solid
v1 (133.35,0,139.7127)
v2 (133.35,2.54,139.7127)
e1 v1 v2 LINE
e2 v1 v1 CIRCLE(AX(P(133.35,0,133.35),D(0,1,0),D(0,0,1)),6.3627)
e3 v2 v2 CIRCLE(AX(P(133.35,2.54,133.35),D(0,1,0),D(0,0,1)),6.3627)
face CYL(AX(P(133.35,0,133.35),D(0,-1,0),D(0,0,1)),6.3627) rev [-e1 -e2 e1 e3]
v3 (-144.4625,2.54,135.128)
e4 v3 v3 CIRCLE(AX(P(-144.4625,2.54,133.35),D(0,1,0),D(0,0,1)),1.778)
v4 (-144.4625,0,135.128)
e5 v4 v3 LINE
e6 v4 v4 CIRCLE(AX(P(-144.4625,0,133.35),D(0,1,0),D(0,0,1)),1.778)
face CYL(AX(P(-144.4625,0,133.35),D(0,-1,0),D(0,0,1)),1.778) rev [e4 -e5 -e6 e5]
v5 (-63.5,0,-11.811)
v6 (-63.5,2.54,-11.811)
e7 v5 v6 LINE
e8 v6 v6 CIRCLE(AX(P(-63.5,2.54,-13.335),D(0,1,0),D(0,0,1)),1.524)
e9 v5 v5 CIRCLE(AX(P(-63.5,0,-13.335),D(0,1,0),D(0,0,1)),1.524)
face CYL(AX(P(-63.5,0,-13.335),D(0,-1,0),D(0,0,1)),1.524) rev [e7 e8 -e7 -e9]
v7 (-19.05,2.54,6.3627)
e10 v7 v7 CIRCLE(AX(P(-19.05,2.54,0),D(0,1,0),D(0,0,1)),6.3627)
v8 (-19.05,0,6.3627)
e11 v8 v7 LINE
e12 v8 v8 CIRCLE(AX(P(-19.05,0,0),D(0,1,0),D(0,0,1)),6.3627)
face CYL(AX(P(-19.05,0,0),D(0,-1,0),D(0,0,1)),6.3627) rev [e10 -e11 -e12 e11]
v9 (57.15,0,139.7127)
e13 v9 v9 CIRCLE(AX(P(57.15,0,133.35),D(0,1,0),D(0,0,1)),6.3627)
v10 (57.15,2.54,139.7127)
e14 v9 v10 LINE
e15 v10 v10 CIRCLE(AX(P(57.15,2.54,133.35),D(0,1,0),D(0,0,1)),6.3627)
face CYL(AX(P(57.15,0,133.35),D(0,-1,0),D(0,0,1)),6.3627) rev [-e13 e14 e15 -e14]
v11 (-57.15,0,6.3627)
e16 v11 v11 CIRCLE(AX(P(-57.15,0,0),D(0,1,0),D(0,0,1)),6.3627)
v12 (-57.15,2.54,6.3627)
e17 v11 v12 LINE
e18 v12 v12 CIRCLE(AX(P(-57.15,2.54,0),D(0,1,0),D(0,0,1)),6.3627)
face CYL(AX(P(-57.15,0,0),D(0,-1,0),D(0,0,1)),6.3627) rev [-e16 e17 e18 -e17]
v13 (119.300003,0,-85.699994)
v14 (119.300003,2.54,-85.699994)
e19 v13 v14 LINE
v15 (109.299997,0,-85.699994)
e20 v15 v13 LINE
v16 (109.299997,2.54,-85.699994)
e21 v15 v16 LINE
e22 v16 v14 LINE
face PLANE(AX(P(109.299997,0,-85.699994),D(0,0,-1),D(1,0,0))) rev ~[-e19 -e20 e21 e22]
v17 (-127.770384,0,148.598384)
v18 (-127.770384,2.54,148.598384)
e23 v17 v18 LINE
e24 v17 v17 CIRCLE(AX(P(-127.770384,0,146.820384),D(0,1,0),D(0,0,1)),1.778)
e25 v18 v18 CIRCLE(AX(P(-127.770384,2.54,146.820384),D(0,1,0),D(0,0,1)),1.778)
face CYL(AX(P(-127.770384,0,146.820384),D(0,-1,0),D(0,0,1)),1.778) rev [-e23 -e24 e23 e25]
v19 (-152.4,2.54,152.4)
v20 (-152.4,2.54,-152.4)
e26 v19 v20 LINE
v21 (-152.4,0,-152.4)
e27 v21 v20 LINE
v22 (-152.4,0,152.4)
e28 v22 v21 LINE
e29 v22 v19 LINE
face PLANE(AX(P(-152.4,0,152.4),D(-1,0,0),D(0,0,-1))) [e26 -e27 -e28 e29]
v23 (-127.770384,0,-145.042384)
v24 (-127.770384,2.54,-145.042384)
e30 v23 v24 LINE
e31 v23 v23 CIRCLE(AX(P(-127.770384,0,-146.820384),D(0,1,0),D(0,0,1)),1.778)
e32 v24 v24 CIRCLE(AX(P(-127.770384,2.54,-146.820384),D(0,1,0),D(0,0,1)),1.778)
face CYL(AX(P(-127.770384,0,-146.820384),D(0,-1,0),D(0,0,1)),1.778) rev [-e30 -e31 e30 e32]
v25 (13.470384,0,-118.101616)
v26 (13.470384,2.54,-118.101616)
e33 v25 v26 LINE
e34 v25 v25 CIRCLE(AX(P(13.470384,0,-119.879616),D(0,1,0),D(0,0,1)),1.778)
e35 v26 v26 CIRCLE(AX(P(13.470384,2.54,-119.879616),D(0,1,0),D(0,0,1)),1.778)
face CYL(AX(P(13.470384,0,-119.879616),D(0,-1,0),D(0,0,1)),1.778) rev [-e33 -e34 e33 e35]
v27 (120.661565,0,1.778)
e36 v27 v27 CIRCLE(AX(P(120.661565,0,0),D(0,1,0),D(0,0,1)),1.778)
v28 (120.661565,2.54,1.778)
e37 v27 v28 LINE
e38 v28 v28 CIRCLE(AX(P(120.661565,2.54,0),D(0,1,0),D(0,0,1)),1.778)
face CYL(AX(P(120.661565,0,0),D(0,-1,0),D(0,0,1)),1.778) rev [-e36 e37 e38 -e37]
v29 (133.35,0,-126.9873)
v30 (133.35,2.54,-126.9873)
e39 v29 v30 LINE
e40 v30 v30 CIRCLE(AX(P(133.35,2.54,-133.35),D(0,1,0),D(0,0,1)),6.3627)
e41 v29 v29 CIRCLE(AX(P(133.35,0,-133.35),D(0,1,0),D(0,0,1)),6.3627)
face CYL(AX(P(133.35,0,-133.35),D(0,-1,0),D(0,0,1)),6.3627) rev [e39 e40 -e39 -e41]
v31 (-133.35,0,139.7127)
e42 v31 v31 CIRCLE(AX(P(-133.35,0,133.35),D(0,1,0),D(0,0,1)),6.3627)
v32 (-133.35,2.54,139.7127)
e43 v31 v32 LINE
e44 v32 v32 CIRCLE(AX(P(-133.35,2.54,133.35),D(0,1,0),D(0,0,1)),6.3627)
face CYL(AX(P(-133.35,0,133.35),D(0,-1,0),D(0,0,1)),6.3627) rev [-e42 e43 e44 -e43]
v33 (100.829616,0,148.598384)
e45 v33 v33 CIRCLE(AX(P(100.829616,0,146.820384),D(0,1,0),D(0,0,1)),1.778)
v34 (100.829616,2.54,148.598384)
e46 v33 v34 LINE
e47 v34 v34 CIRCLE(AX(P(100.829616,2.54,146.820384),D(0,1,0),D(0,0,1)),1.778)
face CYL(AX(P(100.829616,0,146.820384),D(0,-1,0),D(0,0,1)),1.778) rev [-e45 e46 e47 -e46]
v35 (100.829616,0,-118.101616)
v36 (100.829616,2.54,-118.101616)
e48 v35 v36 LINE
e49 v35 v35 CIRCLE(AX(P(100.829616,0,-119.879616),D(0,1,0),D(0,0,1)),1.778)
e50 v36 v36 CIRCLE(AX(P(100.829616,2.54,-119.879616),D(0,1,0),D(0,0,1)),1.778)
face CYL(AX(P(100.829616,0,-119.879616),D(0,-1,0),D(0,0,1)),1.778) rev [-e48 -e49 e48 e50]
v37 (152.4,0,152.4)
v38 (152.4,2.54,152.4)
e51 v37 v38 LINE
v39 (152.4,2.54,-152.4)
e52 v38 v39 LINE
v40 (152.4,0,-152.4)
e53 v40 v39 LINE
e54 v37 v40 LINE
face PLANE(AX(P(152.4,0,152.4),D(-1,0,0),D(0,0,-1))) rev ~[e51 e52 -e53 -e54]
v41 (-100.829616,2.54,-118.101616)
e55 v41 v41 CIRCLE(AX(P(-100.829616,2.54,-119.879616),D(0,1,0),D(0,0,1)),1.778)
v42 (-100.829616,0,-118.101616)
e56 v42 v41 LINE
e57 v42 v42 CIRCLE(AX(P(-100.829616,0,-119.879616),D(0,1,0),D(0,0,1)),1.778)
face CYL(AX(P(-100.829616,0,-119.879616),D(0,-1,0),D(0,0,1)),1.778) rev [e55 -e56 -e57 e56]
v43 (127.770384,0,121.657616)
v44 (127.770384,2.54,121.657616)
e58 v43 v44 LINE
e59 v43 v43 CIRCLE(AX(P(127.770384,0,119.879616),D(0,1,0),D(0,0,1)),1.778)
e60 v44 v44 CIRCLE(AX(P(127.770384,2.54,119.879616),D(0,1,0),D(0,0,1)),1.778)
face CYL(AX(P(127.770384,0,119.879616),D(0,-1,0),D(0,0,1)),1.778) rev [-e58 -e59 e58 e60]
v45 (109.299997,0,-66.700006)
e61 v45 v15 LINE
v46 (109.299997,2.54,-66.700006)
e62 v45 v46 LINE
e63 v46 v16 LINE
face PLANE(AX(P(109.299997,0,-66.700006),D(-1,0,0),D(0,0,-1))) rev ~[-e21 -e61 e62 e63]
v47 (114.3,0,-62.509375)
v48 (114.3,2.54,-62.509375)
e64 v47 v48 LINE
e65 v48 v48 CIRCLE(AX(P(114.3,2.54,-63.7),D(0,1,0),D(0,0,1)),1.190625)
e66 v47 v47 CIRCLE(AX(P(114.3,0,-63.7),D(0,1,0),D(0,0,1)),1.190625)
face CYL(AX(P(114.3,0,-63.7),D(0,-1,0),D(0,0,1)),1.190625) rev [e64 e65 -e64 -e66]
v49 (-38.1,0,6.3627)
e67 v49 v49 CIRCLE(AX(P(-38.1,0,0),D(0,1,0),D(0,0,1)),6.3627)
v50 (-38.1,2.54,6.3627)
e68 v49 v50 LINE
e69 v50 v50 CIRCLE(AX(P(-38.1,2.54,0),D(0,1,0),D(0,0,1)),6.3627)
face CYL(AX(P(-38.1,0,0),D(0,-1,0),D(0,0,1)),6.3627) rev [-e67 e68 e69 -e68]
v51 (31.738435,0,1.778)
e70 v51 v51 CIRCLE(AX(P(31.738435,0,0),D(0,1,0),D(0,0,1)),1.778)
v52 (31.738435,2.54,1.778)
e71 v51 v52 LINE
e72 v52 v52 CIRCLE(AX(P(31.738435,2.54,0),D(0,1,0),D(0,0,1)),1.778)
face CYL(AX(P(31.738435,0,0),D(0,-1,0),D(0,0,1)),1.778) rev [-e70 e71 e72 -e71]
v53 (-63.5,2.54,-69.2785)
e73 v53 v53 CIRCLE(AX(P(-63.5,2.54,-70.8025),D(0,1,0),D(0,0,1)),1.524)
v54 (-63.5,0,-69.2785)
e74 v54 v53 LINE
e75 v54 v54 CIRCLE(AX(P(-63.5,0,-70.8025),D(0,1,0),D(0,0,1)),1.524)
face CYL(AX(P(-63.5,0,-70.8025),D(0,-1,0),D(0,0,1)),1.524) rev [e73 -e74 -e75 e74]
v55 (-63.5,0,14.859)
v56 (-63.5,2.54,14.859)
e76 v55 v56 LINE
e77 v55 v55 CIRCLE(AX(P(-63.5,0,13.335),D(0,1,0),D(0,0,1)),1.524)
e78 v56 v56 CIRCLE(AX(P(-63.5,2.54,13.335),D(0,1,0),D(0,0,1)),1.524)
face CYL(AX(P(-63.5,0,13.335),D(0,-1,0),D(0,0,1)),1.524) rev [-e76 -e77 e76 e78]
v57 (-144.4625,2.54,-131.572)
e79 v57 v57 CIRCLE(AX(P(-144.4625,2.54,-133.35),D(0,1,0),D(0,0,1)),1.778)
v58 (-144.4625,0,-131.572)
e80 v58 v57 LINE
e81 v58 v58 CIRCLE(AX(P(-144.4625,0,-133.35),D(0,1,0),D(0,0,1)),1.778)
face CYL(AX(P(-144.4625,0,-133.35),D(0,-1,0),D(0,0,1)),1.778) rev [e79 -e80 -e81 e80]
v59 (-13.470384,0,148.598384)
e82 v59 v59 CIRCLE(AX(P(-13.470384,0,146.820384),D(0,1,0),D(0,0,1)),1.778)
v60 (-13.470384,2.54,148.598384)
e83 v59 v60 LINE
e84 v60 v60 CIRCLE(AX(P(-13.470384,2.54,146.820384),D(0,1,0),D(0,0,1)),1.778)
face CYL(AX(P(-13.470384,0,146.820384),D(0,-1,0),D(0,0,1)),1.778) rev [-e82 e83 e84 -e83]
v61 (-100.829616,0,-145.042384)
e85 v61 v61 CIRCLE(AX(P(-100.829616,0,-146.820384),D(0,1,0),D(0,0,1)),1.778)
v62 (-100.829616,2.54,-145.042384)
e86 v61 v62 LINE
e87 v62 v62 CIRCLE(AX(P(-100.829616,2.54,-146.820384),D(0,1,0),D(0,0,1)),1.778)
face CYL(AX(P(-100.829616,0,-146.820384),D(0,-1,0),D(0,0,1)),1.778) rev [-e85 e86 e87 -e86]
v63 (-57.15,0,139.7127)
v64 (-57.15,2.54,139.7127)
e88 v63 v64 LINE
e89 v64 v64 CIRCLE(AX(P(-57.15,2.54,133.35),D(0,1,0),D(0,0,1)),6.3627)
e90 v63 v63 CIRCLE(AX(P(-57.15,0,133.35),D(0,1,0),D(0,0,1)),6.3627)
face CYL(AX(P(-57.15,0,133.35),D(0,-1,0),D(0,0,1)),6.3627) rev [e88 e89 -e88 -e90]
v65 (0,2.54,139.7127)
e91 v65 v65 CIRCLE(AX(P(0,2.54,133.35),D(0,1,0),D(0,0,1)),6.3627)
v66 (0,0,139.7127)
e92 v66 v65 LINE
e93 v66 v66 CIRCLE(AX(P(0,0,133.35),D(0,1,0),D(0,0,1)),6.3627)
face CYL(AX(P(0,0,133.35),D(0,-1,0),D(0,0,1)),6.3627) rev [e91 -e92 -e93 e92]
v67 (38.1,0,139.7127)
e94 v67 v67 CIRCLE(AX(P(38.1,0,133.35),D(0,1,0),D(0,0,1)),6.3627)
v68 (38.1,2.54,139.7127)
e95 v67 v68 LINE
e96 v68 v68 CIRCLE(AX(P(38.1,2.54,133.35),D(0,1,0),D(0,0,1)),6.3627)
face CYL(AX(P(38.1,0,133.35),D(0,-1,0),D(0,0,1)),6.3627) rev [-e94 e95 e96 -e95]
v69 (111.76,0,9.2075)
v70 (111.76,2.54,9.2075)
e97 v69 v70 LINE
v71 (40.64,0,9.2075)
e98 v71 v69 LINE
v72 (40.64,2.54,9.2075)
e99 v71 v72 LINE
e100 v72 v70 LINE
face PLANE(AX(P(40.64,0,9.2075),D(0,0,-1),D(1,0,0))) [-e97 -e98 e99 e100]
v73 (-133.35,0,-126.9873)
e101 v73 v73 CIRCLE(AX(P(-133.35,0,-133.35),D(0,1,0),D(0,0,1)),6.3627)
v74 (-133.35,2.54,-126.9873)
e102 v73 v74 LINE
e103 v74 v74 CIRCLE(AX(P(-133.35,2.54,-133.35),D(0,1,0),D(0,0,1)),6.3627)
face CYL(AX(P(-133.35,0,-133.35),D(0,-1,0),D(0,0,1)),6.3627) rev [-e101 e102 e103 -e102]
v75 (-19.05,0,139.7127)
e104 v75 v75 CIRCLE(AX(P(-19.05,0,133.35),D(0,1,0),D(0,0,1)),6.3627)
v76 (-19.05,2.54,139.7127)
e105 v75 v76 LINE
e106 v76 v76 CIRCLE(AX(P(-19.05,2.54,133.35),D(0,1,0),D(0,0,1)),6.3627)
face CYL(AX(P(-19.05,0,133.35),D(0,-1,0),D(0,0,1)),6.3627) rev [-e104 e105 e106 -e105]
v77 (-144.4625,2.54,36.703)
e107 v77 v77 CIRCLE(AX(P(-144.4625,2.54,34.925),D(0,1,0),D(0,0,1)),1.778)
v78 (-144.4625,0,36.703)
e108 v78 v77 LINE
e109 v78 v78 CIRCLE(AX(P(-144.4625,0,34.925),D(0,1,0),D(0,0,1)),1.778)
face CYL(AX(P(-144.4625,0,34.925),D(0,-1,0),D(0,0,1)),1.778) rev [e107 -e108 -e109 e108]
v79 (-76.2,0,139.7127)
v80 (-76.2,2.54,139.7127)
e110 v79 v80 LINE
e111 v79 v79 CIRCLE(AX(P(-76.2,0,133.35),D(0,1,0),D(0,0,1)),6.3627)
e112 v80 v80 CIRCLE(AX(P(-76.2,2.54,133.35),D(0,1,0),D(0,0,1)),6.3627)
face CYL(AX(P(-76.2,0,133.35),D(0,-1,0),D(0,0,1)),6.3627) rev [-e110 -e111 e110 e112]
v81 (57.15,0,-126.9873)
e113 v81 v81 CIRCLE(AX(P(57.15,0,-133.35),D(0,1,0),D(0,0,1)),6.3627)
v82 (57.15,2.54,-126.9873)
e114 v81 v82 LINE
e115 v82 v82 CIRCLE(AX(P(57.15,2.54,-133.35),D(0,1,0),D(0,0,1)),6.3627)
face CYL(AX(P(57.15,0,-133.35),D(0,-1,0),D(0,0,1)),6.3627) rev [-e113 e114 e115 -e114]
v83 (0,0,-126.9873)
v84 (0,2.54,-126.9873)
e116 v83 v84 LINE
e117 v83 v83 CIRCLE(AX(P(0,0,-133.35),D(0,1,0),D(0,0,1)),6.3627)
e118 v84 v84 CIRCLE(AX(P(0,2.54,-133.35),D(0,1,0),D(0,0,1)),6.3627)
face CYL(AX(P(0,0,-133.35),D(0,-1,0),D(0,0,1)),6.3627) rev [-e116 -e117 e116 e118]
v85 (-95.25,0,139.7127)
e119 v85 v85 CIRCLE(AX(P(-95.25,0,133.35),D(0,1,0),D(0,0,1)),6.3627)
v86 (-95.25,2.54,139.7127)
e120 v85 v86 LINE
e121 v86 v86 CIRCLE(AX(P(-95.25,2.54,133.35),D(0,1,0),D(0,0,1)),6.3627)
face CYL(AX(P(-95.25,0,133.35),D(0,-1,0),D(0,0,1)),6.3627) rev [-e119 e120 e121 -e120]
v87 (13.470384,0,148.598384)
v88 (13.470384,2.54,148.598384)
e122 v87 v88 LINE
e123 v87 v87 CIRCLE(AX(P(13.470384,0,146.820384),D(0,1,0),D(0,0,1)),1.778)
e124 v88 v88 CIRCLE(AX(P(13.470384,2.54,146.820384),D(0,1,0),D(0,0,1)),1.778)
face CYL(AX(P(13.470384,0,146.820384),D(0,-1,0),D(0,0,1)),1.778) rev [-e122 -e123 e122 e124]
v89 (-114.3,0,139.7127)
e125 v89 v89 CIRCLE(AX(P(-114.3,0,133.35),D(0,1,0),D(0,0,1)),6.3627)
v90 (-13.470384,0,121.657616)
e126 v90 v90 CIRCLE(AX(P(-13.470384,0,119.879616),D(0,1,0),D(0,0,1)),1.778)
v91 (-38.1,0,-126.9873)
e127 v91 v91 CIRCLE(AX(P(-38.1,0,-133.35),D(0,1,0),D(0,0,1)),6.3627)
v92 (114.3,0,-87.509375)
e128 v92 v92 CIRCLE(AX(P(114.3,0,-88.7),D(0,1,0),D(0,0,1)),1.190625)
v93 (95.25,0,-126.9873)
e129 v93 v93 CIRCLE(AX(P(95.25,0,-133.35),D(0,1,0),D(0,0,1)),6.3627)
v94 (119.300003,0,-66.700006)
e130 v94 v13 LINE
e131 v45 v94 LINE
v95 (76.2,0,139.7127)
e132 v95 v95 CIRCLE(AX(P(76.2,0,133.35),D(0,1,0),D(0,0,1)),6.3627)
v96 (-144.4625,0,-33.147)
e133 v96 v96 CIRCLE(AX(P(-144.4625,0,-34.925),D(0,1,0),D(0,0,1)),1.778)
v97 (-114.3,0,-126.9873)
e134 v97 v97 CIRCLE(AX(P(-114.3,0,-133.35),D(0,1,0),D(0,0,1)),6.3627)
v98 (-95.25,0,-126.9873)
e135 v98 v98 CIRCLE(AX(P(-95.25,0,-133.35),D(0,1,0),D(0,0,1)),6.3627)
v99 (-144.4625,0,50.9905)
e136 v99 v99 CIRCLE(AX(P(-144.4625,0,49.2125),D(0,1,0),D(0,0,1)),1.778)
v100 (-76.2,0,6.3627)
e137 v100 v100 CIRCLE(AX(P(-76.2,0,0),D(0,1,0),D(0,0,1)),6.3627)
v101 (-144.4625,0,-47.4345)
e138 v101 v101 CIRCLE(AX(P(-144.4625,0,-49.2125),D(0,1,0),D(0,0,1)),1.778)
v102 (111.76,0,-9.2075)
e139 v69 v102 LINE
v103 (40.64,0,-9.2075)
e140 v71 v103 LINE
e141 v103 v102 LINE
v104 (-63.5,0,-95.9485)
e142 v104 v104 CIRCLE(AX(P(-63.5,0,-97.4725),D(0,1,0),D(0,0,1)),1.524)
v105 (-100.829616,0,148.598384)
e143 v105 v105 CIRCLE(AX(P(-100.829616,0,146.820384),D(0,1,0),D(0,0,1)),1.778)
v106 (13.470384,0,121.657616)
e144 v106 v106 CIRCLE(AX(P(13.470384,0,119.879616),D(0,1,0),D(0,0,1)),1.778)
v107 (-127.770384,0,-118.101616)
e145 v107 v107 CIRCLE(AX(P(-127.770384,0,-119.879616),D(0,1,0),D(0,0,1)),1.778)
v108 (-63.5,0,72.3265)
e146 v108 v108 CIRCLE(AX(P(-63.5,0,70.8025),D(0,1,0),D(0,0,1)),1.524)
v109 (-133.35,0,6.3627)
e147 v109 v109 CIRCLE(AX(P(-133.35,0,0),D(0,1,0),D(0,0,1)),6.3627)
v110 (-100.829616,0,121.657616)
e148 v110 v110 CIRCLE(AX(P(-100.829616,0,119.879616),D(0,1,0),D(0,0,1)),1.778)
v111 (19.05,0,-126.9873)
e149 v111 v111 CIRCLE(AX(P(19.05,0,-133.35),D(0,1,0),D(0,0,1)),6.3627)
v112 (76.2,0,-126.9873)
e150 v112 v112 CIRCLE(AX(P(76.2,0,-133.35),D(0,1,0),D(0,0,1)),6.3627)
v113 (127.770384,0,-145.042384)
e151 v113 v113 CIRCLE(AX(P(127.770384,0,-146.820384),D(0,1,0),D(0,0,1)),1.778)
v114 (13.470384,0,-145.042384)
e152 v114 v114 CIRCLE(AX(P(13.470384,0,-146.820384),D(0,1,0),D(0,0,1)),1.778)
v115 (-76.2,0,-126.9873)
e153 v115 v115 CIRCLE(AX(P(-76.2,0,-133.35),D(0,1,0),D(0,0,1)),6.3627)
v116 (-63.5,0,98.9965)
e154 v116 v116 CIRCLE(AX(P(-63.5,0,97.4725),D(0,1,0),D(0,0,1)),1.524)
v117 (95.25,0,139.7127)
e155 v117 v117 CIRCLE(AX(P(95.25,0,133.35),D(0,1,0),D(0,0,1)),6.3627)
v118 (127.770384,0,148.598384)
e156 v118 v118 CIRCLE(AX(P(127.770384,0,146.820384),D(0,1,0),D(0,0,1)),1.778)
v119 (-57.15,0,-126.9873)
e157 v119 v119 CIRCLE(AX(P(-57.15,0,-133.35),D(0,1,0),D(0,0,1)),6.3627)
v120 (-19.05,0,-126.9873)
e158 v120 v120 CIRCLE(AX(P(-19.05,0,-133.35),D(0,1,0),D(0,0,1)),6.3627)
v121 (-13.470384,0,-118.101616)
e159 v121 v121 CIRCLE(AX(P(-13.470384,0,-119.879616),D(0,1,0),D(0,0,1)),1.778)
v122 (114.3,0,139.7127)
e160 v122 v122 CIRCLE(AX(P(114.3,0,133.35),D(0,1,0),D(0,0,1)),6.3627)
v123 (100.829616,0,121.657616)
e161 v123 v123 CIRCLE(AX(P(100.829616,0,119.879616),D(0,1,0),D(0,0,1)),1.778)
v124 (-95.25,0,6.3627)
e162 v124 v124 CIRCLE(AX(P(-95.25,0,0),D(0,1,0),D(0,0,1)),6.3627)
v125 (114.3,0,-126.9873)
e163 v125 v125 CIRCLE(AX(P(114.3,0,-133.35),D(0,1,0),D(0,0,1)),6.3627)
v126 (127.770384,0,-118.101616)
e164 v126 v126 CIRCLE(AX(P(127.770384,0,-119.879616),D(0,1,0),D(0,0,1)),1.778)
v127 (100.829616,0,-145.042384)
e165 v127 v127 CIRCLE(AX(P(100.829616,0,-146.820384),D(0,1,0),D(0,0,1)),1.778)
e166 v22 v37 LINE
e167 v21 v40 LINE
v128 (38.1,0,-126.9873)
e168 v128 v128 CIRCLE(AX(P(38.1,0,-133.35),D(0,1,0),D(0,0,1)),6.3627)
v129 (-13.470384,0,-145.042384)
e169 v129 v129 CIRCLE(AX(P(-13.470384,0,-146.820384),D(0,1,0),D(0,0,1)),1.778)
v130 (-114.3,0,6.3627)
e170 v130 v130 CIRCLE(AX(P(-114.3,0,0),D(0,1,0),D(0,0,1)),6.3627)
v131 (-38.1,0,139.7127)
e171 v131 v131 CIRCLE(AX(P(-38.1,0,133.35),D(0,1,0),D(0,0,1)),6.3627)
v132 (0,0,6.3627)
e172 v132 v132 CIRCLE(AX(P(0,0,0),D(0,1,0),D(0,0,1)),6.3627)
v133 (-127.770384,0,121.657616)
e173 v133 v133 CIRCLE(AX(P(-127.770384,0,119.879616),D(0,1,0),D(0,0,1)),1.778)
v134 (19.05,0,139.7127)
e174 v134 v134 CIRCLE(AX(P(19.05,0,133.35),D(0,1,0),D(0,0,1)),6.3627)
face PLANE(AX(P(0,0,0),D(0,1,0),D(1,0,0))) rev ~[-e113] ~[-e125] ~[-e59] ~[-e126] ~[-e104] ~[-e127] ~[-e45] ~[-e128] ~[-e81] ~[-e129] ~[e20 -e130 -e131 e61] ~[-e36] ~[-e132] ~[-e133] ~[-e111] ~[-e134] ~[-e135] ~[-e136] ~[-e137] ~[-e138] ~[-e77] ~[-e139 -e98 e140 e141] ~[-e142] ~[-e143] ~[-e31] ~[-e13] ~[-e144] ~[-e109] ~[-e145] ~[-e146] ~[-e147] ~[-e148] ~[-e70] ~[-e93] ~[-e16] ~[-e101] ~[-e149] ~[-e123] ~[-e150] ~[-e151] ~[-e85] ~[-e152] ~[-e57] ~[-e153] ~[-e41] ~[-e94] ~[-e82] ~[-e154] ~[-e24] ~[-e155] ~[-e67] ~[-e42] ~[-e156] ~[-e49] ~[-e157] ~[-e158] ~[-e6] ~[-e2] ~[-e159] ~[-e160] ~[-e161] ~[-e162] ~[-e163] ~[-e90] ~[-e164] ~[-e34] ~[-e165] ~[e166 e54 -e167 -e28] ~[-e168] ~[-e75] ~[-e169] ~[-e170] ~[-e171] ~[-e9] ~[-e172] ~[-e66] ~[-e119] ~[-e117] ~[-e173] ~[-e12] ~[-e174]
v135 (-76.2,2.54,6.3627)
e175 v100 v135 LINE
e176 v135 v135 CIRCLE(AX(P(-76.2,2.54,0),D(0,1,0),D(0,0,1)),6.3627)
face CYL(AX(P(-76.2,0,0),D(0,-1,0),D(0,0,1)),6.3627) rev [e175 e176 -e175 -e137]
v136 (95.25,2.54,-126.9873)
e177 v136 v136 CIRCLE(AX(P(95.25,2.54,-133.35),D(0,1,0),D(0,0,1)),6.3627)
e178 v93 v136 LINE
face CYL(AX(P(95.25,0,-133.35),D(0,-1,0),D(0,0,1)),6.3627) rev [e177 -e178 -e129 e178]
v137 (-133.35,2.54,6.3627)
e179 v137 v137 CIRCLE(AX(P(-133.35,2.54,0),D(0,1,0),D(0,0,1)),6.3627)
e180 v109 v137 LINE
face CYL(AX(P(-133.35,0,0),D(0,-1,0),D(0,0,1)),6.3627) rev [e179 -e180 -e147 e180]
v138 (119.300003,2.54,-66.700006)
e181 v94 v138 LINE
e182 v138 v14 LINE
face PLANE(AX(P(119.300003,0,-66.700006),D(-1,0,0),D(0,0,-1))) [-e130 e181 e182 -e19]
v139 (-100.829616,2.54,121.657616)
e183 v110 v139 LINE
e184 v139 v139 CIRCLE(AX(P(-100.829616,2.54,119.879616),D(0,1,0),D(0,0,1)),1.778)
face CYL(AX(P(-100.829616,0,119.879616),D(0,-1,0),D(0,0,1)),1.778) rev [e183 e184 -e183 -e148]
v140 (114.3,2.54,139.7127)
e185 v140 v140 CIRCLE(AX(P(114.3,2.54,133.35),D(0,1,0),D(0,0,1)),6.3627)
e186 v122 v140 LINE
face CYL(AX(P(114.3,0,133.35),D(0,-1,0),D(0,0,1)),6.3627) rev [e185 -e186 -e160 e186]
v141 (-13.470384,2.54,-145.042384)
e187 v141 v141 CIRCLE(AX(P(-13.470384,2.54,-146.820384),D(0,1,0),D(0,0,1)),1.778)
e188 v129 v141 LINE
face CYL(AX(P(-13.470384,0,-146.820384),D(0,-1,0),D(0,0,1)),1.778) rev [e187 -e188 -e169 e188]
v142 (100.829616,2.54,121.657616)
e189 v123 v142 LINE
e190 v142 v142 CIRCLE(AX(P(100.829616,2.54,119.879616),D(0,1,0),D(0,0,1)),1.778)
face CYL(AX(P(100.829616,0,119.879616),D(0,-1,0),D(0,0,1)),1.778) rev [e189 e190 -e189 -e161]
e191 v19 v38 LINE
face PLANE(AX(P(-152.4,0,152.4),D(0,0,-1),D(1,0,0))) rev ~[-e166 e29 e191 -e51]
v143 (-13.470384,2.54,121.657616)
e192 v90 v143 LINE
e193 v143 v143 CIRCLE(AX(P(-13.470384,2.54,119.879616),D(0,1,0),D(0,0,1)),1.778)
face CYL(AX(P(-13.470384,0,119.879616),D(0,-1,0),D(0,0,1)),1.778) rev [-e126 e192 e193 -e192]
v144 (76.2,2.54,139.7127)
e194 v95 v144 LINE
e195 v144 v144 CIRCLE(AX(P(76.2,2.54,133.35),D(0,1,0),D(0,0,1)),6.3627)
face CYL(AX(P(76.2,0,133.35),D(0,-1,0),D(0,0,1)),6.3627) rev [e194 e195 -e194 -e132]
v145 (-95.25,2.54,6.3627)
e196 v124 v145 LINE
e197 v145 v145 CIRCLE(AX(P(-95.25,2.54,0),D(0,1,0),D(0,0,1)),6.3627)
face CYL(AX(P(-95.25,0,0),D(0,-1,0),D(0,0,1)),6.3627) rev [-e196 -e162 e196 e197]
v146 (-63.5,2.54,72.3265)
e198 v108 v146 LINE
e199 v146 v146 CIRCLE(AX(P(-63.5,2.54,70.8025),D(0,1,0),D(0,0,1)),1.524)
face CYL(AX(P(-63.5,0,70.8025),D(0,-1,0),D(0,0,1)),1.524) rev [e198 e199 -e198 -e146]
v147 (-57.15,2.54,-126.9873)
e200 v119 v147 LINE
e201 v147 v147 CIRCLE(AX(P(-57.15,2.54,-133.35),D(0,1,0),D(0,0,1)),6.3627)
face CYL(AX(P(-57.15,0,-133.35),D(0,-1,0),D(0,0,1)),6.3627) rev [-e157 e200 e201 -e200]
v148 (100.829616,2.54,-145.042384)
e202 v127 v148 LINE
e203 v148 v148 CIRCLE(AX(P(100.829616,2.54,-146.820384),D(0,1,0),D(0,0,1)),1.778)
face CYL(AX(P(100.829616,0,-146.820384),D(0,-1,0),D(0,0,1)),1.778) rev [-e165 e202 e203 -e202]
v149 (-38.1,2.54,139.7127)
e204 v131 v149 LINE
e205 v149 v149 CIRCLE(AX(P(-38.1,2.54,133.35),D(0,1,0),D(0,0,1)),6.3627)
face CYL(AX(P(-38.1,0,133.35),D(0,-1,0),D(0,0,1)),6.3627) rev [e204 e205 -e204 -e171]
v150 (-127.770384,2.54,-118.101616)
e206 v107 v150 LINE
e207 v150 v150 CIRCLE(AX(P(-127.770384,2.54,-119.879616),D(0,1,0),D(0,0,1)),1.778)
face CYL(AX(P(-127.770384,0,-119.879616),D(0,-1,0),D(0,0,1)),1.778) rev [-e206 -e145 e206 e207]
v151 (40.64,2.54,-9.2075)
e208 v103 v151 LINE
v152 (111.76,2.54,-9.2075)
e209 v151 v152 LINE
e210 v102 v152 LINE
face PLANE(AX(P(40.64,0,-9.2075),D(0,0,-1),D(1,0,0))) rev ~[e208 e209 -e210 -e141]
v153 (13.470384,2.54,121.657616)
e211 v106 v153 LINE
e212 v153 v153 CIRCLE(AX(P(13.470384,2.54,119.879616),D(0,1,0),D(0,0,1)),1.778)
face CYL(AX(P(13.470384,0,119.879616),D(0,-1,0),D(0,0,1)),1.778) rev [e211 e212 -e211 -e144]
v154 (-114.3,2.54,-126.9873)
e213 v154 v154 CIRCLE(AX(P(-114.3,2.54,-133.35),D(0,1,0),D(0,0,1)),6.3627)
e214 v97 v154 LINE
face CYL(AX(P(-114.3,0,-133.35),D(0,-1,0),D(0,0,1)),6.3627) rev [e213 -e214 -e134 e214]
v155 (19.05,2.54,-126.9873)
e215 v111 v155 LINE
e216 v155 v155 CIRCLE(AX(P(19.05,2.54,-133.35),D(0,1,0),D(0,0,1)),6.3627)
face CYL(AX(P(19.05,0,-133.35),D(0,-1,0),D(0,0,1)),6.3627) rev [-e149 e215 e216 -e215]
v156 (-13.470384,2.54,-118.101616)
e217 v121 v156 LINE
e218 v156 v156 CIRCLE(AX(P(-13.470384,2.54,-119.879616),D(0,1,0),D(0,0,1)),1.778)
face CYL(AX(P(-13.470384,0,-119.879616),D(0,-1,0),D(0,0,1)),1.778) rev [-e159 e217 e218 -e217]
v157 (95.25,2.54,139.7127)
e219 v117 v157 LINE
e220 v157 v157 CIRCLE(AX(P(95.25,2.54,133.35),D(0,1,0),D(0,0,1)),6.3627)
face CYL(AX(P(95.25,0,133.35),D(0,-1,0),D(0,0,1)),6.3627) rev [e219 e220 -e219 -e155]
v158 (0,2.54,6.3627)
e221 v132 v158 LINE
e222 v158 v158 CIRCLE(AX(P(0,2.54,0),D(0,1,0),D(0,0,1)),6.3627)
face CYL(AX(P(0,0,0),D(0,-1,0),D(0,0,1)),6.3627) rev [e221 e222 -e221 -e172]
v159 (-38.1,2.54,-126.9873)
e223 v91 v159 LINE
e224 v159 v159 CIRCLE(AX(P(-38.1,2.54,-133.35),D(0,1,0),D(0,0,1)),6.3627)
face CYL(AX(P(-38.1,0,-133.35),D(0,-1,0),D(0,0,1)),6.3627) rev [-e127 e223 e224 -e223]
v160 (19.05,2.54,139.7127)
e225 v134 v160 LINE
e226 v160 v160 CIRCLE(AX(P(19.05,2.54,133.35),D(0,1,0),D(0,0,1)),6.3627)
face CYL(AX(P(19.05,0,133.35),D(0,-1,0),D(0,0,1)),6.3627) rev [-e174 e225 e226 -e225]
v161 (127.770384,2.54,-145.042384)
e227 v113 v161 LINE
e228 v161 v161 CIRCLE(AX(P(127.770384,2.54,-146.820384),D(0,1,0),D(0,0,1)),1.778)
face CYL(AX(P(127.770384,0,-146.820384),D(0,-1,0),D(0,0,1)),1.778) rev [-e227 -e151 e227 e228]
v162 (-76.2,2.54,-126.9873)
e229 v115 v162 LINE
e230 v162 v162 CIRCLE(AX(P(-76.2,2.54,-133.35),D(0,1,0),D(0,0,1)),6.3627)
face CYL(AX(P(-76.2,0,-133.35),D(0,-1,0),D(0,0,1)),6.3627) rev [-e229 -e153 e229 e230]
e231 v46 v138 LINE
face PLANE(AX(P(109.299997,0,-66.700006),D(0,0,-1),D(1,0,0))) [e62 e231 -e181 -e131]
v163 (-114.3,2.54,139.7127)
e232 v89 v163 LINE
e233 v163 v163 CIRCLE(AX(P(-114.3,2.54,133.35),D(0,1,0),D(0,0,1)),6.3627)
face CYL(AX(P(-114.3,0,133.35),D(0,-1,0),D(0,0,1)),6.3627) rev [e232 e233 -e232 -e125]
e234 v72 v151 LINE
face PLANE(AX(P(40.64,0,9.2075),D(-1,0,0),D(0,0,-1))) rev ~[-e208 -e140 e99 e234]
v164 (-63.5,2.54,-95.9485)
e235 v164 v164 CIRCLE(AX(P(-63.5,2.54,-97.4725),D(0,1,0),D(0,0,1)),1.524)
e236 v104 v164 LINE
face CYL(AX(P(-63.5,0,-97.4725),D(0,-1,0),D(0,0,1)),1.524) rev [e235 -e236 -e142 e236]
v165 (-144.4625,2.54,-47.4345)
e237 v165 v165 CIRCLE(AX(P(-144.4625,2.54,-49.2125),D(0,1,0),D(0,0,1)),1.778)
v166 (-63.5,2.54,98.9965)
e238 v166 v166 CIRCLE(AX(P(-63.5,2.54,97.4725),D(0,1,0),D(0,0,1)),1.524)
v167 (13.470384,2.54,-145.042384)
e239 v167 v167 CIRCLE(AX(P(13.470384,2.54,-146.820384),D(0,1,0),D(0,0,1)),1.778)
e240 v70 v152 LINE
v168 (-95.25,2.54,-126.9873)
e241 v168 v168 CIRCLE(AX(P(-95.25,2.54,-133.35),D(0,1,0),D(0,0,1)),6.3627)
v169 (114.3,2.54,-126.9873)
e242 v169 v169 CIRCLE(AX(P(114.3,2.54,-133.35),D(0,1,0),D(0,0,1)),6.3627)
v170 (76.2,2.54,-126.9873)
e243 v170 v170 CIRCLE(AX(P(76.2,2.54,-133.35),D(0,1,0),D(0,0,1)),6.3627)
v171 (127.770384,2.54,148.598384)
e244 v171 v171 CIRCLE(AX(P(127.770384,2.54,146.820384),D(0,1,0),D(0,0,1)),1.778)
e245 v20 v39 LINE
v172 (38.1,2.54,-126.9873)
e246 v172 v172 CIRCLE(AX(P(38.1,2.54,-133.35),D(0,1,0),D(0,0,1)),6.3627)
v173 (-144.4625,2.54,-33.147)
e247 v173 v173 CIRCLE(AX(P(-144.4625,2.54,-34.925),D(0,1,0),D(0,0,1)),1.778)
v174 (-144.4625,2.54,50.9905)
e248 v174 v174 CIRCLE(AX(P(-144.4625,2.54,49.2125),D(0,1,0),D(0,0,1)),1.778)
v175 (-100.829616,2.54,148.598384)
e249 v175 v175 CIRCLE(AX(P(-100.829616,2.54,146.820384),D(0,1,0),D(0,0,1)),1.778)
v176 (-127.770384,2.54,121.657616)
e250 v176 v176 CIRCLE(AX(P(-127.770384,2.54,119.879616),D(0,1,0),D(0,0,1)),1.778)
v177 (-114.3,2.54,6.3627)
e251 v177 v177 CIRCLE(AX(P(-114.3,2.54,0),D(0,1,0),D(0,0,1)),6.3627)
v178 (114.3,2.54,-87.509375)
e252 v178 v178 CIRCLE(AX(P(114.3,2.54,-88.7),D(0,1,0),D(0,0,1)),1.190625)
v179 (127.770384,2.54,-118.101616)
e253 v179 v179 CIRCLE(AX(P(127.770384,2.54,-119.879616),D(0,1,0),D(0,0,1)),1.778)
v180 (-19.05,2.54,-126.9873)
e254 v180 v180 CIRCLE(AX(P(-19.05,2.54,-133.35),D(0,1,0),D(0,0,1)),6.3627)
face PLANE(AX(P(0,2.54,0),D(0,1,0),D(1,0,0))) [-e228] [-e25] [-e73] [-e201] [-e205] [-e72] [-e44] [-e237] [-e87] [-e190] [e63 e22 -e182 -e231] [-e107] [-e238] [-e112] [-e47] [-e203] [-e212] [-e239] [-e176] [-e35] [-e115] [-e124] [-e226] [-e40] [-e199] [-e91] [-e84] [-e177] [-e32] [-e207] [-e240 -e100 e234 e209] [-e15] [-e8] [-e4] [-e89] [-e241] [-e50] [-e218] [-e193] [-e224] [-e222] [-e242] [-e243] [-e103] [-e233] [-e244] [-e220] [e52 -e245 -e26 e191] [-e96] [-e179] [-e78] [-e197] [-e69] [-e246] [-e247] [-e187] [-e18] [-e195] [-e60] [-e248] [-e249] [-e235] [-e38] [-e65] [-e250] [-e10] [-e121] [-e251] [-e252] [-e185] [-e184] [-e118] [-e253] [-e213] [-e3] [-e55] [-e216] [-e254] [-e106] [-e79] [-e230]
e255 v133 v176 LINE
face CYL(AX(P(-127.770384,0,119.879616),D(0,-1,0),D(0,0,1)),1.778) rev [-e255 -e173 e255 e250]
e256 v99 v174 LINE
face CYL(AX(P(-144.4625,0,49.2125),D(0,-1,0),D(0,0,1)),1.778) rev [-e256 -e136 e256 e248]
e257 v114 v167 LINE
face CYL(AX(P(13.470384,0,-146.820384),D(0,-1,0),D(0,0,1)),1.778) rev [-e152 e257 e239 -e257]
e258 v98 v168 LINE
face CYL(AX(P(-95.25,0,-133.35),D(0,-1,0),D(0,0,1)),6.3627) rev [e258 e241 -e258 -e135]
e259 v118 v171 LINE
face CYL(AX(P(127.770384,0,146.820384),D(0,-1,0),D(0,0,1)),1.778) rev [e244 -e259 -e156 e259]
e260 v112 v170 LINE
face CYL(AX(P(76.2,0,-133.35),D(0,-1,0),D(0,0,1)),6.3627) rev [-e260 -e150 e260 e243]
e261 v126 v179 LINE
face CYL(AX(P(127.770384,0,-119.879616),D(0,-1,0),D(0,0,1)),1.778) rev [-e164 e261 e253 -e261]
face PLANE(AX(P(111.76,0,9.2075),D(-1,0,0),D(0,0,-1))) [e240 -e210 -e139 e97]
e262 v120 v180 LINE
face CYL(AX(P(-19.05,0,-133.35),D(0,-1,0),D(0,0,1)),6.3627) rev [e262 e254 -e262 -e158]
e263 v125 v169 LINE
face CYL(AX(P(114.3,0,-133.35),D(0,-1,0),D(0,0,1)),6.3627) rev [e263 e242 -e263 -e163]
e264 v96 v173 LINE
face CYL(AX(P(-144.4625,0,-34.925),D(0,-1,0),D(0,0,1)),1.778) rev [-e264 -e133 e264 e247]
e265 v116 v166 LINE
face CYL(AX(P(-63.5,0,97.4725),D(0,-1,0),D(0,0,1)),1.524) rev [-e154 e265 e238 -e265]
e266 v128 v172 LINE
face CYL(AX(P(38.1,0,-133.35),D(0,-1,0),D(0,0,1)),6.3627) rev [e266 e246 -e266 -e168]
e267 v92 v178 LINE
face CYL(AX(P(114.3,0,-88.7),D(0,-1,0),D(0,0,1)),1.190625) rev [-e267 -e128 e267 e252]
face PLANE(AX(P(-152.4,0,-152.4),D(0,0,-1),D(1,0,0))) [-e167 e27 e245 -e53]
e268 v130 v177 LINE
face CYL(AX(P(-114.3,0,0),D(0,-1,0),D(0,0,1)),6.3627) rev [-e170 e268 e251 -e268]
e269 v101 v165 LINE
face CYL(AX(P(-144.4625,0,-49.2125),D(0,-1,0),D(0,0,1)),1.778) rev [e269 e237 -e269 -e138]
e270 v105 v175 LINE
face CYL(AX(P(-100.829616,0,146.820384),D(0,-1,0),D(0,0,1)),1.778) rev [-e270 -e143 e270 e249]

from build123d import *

# Parameters (mm, degrees)
SKETCH1_W           = 304.8
SKETCH1_H           = 304.8
SKETCH1_R           = 6.3627
SKETCH1_R_2         = 1.778
SKETCH1_R_3         = 1.524
SKETCH1_R_4         = 1.190625
SKETCH1_W_2         = 10.0000054
SKETCH1_H_2         = 18.9999874
SKETCH1_W_3         = 71.12
SKETCH1_H_3         = 18.415
BOSS_EXTRUDE1_DEPTH = 2.54


with BuildPart() as part:
    # Sketch1 → Boss-Extrude1 (new body)
    with BuildSketch(Plane(origin=(0, 0, 0), x_dir=(1, 0, 0), z_dir=(0, 1, 0))):
        Rectangle(SKETCH1_W, SKETCH1_H)
        with Locations(Location((-133.35, 133.35, 0), (0, 0, 270))):
            Circle(SKETCH1_R, mode=Mode.SUBTRACT)
        with Locations(Location((-114.3, 133.35, 0), (0, 0, 270))):
            Circle(SKETCH1_R, mode=Mode.SUBTRACT)
        with Locations(Location((-95.25, 133.35, 0), (0, 0, 270))):
            Circle(SKETCH1_R, mode=Mode.SUBTRACT)
        with Locations(Location((-76.2, 133.35, 0), (0, 0, 270))):
            Circle(SKETCH1_R, mode=Mode.SUBTRACT)
        with Locations(Location((-57.15, 133.35, 0), (0, 0, 270))):
            Circle(SKETCH1_R, mode=Mode.SUBTRACT)
        with Locations(Location((-38.1, 133.35, 0), (0, 0, 270))):
            Circle(SKETCH1_R, mode=Mode.SUBTRACT)
        with Locations(Location((-19.05, 133.35, 0), (0, 0, 270))):
            Circle(SKETCH1_R, mode=Mode.SUBTRACT)
        with Locations(Location((0, 133.35, 0), (0, 0, 270))):
            Circle(SKETCH1_R, mode=Mode.SUBTRACT)
        with Locations(Location((19.05, 133.35, 0), (0, 0, 270))):
            Circle(SKETCH1_R, mode=Mode.SUBTRACT)
        with Locations(Location((38.1, 133.35, 0), (0, 0, 270))):
            Circle(SKETCH1_R, mode=Mode.SUBTRACT)
        with Locations(Location((57.15, 133.35, 0), (0, 0, 270))):
            Circle(SKETCH1_R, mode=Mode.SUBTRACT)
        with Locations(Location((76.2, 133.35, 0), (0, 0, 270))):
            Circle(SKETCH1_R, mode=Mode.SUBTRACT)
        with Locations(Location((95.25, 133.35, 0), (0, 0, 270))):
            Circle(SKETCH1_R, mode=Mode.SUBTRACT)
        with Locations(Location((114.3, 133.35, 0), (0, 0, 270))):
            Circle(SKETCH1_R, mode=Mode.SUBTRACT)
        with Locations(Location((133.35, 133.35, 0), (0, 0, 270))):
            Circle(SKETCH1_R, mode=Mode.SUBTRACT)
        with Locations(Location((-114.3, 0, 0), (0, 0, 270))):
            Circle(SKETCH1_R, mode=Mode.SUBTRACT)
        with Locations(Location((-95.25, 0, 0), (0, 0, 270))):
            Circle(SKETCH1_R, mode=Mode.SUBTRACT)
        with Locations(Location((-76.2, 0, 0), (0, 0, 270))):
            Circle(SKETCH1_R, mode=Mode.SUBTRACT)
        with Locations(Location((-57.15, 0, 0), (0, 0, 270))):
            Circle(SKETCH1_R, mode=Mode.SUBTRACT)
        with Locations(Location((-38.1, 0, 0), (0, 0, 270))):
            Circle(SKETCH1_R, mode=Mode.SUBTRACT)
        with Locations(Location((-19.05, 0, 0), (0, 0, 270))):
            Circle(SKETCH1_R, mode=Mode.SUBTRACT)
        with Locations(Location((0, 0, 0), (0, 0, 270))):
            Circle(SKETCH1_R, mode=Mode.SUBTRACT)
        with Locations(Location((-127.770384182, 146.820384182, 0), (0, 0, 270))):
            Circle(SKETCH1_R_2, mode=Mode.SUBTRACT)
        with Locations(Location((-100.829615818, 146.820384182, 0), (0, 0, 270))):
            Circle(SKETCH1_R_2, mode=Mode.SUBTRACT)
        with Locations(Location((-100.829615818, 119.879615818, 0), (0, 0, 270))):
            Circle(SKETCH1_R_2, mode=Mode.SUBTRACT)
        with Locations(Location((-127.770384182, 119.879615818, 0), (0, 0, 270))):
            Circle(SKETCH1_R_2, mode=Mode.SUBTRACT)
        with Locations(Location((-13.470384182, 146.820384182, 0), (0, 0, 270))):
            Circle(SKETCH1_R_2, mode=Mode.SUBTRACT)
        with Locations(Location((13.470384182, 146.820384182, 0), (0, 0, 270))):
            Circle(SKETCH1_R_2, mode=Mode.SUBTRACT)
        with Locations(Location((-114.3, -133.35, 0), (0, 0, 270))):
            Circle(SKETCH1_R, mode=Mode.SUBTRACT)
        with Locations(Location((-95.25, -133.35, 0), (0, 0, 270))):
            Circle(SKETCH1_R, mode=Mode.SUBTRACT)
        with Locations(Location((-76.2, -133.35, 0), (0, 0, 270))):
            Circle(SKETCH1_R, mode=Mode.SUBTRACT)
        with Locations(Location((-57.15, -133.35, 0), (0, 0, 270))):
            Circle(SKETCH1_R, mode=Mode.SUBTRACT)
        with Locations(Location((-38.1, -133.35, 0), (0, 0, 270))):
            Circle(SKETCH1_R, mode=Mode.SUBTRACT)
        with Locations(Location((-19.05, -133.35, 0), (0, 0, 270))):
            Circle(SKETCH1_R, mode=Mode.SUBTRACT)
        with Locations(Location((0, -133.35, 0), (0, 0, 270))):
            Circle(SKETCH1_R, mode=Mode.SUBTRACT)
        with Locations(Location((19.05, -133.35, 0), (0, 0, 270))):
            Circle(SKETCH1_R, mode=Mode.SUBTRACT)
        with Locations(Location((38.1, -133.35, 0), (0, 0, 270))):
            Circle(SKETCH1_R, mode=Mode.SUBTRACT)
        with Locations(Location((57.15, -133.35, 0), (0, 0, 270))):
            Circle(SKETCH1_R, mode=Mode.SUBTRACT)
        with Locations(Location((76.2, -133.35, 0), (0, 0, 270))):
            Circle(SKETCH1_R, mode=Mode.SUBTRACT)
        with Locations(Location((95.25, -133.35, 0), (0, 0, 270))):
            Circle(SKETCH1_R, mode=Mode.SUBTRACT)
        with Locations(Location((114.3, -133.35, 0), (0, 0, 270))):
            Circle(SKETCH1_R, mode=Mode.SUBTRACT)
        with Locations(Location((133.35, -133.35, 0), (0, 0, 270))):
            Circle(SKETCH1_R, mode=Mode.SUBTRACT)
        with Locations(Location((-133.35, 0, 0), (0, 0, 270))):
            Circle(SKETCH1_R, mode=Mode.SUBTRACT)
        with Locations(Location((-133.35, -133.35, 0), (0, 0, 270))):
            Circle(SKETCH1_R, mode=Mode.SUBTRACT)
        with Locations(Location((13.470384182, 119.879615818, 0), (0, 0, 270))):
            Circle(SKETCH1_R_2, mode=Mode.SUBTRACT)
        with Locations(Location((-13.470384182, 119.879615818, 0), (0, 0, 270))):
            Circle(SKETCH1_R_2, mode=Mode.SUBTRACT)
        with Locations(Location((127.770384182, 146.820384182, 0), (0, 0, 270))):
            Circle(SKETCH1_R_2, mode=Mode.SUBTRACT)
        with Locations(Location((127.770384182, 119.879615818, 0), (0, 0, 270))):
            Circle(SKETCH1_R_2, mode=Mode.SUBTRACT)
        with Locations(Location((100.829615818, 119.879615818, 0), (0, 0, 270))):
            Circle(SKETCH1_R_2, mode=Mode.SUBTRACT)
        with Locations(Location((100.829615818, 146.820384182, 0), (0, 0, 270))):
            Circle(SKETCH1_R_2, mode=Mode.SUBTRACT)
        with Locations(Location((127.770384182, -119.879615818, 0), (0, 0, 270))):
            Circle(SKETCH1_R_2, mode=Mode.SUBTRACT)
        with Locations(Location((127.770384182, -146.820384182, 0), (0, 0, 270))):
            Circle(SKETCH1_R_2, mode=Mode.SUBTRACT)
        with Locations(Location((100.829615818, -146.820384182, 0), (0, 0, 270))):
            Circle(SKETCH1_R_2, mode=Mode.SUBTRACT)
        with Locations(Location((100.829615818, -119.879615818, 0), (0, 0, 270))):
            Circle(SKETCH1_R_2, mode=Mode.SUBTRACT)
        with Locations(Location((13.470384182, -119.879615818, 0), (0, 0, 270))):
            Circle(SKETCH1_R_2, mode=Mode.SUBTRACT)
        with Locations(Location((13.470384182, -146.820384182, 0), (0, 0, 270))):
            Circle(SKETCH1_R_2, mode=Mode.SUBTRACT)
        with Locations(Location((-13.470384182, -146.820384182, 0), (0, 0, 270))):
            Circle(SKETCH1_R_2, mode=Mode.SUBTRACT)
        with Locations(Location((-13.470384182, -119.879615818, 0), (0, 0, 270))):
            Circle(SKETCH1_R_2, mode=Mode.SUBTRACT)
        with Locations(Location((-127.770384182, -119.879615818, 0), (0, 0, 270))):
            Circle(SKETCH1_R_2, mode=Mode.SUBTRACT)
        with Locations(Location((-127.770384182, -146.820384182, 0), (0, 0, 270))):
            Circle(SKETCH1_R_2, mode=Mode.SUBTRACT)
        with Locations(Location((-100.829615818, -146.820384182, 0), (0, 0, 270))):
            Circle(SKETCH1_R_2, mode=Mode.SUBTRACT)
        with Locations(Location((-100.829615818, -119.879615818, 0), (0, 0, 270))):
            Circle(SKETCH1_R_2, mode=Mode.SUBTRACT)
        with Locations(Location((-63.5, 97.4725, 0), (0, 0, 270))):
            Circle(SKETCH1_R_3, mode=Mode.SUBTRACT)
        with Locations(Location((-63.5, 70.8025, 0), (0, 0, 270))):
            Circle(SKETCH1_R_3, mode=Mode.SUBTRACT)
        with Locations(Location((-144.4625, 133.35, 0), (0, 0, 270))):
            Circle(SKETCH1_R_2, mode=Mode.SUBTRACT)
        with Locations(Location((-144.4625, 34.925, 0), (0, 0, 270))):
            Circle(SKETCH1_R_2, mode=Mode.SUBTRACT)
        with Locations(Location((-63.5, 13.335, 0), (0, 0, 270))):
            Circle(SKETCH1_R_3, mode=Mode.SUBTRACT)
        with Locations(Location((-63.5, -13.335, 0), (0, 0, 270))):
            Circle(SKETCH1_R_3, mode=Mode.SUBTRACT)
        with Locations(Location((-144.4625, 49.2125, 0), (0, 0, 270))):
            Circle(SKETCH1_R_2, mode=Mode.SUBTRACT)
        with Locations(Location((-144.4625, -49.2125, 0), (0, 0, 270))):
            Circle(SKETCH1_R_2, mode=Mode.SUBTRACT)
        with Locations(Location((-63.5, -70.8025, 0), (0, 0, 270))):
            Circle(SKETCH1_R_3, mode=Mode.SUBTRACT)
        with Locations(Location((-63.5, -97.4725, 0), (0, 0, 270))):
            Circle(SKETCH1_R_3, mode=Mode.SUBTRACT)
        with Locations(Location((-144.4625, -34.925, 0), (0, 0, 270))):
            Circle(SKETCH1_R_2, mode=Mode.SUBTRACT)
        with Locations(Location((-144.4625, -133.35, 0), (0, 0, 270))):
            Circle(SKETCH1_R_2, mode=Mode.SUBTRACT)
        with Locations(Location((114.3, 88.7000004, 0), (0, 0, 270))):
            Circle(SKETCH1_R_4, mode=Mode.SUBTRACT)
        with Locations(Location((114.3, 63.6999996, 0), (0, 0, 270))):
            Circle(SKETCH1_R_4, mode=Mode.SUBTRACT)
        with Locations(Location((31.73843479, 0, 0), (0, 0, 270))):
            Circle(SKETCH1_R_2, mode=Mode.SUBTRACT)
        with Locations(Location((120.66156521, 0, 0), (0, 0, 270))):
            Circle(SKETCH1_R_2, mode=Mode.SUBTRACT)
        with Locations((114.3, 76.2)):
            Rectangle(SKETCH1_W_2, SKETCH1_H_2, mode=Mode.SUBTRACT)
        with Locations((76.2, 0)):
            Rectangle(SKETCH1_W_3, SKETCH1_H_3, mode=Mode.SUBTRACT)
    extrude(amount=BOSS_EXTRUDE1_DEPTH)


solid = part.part
